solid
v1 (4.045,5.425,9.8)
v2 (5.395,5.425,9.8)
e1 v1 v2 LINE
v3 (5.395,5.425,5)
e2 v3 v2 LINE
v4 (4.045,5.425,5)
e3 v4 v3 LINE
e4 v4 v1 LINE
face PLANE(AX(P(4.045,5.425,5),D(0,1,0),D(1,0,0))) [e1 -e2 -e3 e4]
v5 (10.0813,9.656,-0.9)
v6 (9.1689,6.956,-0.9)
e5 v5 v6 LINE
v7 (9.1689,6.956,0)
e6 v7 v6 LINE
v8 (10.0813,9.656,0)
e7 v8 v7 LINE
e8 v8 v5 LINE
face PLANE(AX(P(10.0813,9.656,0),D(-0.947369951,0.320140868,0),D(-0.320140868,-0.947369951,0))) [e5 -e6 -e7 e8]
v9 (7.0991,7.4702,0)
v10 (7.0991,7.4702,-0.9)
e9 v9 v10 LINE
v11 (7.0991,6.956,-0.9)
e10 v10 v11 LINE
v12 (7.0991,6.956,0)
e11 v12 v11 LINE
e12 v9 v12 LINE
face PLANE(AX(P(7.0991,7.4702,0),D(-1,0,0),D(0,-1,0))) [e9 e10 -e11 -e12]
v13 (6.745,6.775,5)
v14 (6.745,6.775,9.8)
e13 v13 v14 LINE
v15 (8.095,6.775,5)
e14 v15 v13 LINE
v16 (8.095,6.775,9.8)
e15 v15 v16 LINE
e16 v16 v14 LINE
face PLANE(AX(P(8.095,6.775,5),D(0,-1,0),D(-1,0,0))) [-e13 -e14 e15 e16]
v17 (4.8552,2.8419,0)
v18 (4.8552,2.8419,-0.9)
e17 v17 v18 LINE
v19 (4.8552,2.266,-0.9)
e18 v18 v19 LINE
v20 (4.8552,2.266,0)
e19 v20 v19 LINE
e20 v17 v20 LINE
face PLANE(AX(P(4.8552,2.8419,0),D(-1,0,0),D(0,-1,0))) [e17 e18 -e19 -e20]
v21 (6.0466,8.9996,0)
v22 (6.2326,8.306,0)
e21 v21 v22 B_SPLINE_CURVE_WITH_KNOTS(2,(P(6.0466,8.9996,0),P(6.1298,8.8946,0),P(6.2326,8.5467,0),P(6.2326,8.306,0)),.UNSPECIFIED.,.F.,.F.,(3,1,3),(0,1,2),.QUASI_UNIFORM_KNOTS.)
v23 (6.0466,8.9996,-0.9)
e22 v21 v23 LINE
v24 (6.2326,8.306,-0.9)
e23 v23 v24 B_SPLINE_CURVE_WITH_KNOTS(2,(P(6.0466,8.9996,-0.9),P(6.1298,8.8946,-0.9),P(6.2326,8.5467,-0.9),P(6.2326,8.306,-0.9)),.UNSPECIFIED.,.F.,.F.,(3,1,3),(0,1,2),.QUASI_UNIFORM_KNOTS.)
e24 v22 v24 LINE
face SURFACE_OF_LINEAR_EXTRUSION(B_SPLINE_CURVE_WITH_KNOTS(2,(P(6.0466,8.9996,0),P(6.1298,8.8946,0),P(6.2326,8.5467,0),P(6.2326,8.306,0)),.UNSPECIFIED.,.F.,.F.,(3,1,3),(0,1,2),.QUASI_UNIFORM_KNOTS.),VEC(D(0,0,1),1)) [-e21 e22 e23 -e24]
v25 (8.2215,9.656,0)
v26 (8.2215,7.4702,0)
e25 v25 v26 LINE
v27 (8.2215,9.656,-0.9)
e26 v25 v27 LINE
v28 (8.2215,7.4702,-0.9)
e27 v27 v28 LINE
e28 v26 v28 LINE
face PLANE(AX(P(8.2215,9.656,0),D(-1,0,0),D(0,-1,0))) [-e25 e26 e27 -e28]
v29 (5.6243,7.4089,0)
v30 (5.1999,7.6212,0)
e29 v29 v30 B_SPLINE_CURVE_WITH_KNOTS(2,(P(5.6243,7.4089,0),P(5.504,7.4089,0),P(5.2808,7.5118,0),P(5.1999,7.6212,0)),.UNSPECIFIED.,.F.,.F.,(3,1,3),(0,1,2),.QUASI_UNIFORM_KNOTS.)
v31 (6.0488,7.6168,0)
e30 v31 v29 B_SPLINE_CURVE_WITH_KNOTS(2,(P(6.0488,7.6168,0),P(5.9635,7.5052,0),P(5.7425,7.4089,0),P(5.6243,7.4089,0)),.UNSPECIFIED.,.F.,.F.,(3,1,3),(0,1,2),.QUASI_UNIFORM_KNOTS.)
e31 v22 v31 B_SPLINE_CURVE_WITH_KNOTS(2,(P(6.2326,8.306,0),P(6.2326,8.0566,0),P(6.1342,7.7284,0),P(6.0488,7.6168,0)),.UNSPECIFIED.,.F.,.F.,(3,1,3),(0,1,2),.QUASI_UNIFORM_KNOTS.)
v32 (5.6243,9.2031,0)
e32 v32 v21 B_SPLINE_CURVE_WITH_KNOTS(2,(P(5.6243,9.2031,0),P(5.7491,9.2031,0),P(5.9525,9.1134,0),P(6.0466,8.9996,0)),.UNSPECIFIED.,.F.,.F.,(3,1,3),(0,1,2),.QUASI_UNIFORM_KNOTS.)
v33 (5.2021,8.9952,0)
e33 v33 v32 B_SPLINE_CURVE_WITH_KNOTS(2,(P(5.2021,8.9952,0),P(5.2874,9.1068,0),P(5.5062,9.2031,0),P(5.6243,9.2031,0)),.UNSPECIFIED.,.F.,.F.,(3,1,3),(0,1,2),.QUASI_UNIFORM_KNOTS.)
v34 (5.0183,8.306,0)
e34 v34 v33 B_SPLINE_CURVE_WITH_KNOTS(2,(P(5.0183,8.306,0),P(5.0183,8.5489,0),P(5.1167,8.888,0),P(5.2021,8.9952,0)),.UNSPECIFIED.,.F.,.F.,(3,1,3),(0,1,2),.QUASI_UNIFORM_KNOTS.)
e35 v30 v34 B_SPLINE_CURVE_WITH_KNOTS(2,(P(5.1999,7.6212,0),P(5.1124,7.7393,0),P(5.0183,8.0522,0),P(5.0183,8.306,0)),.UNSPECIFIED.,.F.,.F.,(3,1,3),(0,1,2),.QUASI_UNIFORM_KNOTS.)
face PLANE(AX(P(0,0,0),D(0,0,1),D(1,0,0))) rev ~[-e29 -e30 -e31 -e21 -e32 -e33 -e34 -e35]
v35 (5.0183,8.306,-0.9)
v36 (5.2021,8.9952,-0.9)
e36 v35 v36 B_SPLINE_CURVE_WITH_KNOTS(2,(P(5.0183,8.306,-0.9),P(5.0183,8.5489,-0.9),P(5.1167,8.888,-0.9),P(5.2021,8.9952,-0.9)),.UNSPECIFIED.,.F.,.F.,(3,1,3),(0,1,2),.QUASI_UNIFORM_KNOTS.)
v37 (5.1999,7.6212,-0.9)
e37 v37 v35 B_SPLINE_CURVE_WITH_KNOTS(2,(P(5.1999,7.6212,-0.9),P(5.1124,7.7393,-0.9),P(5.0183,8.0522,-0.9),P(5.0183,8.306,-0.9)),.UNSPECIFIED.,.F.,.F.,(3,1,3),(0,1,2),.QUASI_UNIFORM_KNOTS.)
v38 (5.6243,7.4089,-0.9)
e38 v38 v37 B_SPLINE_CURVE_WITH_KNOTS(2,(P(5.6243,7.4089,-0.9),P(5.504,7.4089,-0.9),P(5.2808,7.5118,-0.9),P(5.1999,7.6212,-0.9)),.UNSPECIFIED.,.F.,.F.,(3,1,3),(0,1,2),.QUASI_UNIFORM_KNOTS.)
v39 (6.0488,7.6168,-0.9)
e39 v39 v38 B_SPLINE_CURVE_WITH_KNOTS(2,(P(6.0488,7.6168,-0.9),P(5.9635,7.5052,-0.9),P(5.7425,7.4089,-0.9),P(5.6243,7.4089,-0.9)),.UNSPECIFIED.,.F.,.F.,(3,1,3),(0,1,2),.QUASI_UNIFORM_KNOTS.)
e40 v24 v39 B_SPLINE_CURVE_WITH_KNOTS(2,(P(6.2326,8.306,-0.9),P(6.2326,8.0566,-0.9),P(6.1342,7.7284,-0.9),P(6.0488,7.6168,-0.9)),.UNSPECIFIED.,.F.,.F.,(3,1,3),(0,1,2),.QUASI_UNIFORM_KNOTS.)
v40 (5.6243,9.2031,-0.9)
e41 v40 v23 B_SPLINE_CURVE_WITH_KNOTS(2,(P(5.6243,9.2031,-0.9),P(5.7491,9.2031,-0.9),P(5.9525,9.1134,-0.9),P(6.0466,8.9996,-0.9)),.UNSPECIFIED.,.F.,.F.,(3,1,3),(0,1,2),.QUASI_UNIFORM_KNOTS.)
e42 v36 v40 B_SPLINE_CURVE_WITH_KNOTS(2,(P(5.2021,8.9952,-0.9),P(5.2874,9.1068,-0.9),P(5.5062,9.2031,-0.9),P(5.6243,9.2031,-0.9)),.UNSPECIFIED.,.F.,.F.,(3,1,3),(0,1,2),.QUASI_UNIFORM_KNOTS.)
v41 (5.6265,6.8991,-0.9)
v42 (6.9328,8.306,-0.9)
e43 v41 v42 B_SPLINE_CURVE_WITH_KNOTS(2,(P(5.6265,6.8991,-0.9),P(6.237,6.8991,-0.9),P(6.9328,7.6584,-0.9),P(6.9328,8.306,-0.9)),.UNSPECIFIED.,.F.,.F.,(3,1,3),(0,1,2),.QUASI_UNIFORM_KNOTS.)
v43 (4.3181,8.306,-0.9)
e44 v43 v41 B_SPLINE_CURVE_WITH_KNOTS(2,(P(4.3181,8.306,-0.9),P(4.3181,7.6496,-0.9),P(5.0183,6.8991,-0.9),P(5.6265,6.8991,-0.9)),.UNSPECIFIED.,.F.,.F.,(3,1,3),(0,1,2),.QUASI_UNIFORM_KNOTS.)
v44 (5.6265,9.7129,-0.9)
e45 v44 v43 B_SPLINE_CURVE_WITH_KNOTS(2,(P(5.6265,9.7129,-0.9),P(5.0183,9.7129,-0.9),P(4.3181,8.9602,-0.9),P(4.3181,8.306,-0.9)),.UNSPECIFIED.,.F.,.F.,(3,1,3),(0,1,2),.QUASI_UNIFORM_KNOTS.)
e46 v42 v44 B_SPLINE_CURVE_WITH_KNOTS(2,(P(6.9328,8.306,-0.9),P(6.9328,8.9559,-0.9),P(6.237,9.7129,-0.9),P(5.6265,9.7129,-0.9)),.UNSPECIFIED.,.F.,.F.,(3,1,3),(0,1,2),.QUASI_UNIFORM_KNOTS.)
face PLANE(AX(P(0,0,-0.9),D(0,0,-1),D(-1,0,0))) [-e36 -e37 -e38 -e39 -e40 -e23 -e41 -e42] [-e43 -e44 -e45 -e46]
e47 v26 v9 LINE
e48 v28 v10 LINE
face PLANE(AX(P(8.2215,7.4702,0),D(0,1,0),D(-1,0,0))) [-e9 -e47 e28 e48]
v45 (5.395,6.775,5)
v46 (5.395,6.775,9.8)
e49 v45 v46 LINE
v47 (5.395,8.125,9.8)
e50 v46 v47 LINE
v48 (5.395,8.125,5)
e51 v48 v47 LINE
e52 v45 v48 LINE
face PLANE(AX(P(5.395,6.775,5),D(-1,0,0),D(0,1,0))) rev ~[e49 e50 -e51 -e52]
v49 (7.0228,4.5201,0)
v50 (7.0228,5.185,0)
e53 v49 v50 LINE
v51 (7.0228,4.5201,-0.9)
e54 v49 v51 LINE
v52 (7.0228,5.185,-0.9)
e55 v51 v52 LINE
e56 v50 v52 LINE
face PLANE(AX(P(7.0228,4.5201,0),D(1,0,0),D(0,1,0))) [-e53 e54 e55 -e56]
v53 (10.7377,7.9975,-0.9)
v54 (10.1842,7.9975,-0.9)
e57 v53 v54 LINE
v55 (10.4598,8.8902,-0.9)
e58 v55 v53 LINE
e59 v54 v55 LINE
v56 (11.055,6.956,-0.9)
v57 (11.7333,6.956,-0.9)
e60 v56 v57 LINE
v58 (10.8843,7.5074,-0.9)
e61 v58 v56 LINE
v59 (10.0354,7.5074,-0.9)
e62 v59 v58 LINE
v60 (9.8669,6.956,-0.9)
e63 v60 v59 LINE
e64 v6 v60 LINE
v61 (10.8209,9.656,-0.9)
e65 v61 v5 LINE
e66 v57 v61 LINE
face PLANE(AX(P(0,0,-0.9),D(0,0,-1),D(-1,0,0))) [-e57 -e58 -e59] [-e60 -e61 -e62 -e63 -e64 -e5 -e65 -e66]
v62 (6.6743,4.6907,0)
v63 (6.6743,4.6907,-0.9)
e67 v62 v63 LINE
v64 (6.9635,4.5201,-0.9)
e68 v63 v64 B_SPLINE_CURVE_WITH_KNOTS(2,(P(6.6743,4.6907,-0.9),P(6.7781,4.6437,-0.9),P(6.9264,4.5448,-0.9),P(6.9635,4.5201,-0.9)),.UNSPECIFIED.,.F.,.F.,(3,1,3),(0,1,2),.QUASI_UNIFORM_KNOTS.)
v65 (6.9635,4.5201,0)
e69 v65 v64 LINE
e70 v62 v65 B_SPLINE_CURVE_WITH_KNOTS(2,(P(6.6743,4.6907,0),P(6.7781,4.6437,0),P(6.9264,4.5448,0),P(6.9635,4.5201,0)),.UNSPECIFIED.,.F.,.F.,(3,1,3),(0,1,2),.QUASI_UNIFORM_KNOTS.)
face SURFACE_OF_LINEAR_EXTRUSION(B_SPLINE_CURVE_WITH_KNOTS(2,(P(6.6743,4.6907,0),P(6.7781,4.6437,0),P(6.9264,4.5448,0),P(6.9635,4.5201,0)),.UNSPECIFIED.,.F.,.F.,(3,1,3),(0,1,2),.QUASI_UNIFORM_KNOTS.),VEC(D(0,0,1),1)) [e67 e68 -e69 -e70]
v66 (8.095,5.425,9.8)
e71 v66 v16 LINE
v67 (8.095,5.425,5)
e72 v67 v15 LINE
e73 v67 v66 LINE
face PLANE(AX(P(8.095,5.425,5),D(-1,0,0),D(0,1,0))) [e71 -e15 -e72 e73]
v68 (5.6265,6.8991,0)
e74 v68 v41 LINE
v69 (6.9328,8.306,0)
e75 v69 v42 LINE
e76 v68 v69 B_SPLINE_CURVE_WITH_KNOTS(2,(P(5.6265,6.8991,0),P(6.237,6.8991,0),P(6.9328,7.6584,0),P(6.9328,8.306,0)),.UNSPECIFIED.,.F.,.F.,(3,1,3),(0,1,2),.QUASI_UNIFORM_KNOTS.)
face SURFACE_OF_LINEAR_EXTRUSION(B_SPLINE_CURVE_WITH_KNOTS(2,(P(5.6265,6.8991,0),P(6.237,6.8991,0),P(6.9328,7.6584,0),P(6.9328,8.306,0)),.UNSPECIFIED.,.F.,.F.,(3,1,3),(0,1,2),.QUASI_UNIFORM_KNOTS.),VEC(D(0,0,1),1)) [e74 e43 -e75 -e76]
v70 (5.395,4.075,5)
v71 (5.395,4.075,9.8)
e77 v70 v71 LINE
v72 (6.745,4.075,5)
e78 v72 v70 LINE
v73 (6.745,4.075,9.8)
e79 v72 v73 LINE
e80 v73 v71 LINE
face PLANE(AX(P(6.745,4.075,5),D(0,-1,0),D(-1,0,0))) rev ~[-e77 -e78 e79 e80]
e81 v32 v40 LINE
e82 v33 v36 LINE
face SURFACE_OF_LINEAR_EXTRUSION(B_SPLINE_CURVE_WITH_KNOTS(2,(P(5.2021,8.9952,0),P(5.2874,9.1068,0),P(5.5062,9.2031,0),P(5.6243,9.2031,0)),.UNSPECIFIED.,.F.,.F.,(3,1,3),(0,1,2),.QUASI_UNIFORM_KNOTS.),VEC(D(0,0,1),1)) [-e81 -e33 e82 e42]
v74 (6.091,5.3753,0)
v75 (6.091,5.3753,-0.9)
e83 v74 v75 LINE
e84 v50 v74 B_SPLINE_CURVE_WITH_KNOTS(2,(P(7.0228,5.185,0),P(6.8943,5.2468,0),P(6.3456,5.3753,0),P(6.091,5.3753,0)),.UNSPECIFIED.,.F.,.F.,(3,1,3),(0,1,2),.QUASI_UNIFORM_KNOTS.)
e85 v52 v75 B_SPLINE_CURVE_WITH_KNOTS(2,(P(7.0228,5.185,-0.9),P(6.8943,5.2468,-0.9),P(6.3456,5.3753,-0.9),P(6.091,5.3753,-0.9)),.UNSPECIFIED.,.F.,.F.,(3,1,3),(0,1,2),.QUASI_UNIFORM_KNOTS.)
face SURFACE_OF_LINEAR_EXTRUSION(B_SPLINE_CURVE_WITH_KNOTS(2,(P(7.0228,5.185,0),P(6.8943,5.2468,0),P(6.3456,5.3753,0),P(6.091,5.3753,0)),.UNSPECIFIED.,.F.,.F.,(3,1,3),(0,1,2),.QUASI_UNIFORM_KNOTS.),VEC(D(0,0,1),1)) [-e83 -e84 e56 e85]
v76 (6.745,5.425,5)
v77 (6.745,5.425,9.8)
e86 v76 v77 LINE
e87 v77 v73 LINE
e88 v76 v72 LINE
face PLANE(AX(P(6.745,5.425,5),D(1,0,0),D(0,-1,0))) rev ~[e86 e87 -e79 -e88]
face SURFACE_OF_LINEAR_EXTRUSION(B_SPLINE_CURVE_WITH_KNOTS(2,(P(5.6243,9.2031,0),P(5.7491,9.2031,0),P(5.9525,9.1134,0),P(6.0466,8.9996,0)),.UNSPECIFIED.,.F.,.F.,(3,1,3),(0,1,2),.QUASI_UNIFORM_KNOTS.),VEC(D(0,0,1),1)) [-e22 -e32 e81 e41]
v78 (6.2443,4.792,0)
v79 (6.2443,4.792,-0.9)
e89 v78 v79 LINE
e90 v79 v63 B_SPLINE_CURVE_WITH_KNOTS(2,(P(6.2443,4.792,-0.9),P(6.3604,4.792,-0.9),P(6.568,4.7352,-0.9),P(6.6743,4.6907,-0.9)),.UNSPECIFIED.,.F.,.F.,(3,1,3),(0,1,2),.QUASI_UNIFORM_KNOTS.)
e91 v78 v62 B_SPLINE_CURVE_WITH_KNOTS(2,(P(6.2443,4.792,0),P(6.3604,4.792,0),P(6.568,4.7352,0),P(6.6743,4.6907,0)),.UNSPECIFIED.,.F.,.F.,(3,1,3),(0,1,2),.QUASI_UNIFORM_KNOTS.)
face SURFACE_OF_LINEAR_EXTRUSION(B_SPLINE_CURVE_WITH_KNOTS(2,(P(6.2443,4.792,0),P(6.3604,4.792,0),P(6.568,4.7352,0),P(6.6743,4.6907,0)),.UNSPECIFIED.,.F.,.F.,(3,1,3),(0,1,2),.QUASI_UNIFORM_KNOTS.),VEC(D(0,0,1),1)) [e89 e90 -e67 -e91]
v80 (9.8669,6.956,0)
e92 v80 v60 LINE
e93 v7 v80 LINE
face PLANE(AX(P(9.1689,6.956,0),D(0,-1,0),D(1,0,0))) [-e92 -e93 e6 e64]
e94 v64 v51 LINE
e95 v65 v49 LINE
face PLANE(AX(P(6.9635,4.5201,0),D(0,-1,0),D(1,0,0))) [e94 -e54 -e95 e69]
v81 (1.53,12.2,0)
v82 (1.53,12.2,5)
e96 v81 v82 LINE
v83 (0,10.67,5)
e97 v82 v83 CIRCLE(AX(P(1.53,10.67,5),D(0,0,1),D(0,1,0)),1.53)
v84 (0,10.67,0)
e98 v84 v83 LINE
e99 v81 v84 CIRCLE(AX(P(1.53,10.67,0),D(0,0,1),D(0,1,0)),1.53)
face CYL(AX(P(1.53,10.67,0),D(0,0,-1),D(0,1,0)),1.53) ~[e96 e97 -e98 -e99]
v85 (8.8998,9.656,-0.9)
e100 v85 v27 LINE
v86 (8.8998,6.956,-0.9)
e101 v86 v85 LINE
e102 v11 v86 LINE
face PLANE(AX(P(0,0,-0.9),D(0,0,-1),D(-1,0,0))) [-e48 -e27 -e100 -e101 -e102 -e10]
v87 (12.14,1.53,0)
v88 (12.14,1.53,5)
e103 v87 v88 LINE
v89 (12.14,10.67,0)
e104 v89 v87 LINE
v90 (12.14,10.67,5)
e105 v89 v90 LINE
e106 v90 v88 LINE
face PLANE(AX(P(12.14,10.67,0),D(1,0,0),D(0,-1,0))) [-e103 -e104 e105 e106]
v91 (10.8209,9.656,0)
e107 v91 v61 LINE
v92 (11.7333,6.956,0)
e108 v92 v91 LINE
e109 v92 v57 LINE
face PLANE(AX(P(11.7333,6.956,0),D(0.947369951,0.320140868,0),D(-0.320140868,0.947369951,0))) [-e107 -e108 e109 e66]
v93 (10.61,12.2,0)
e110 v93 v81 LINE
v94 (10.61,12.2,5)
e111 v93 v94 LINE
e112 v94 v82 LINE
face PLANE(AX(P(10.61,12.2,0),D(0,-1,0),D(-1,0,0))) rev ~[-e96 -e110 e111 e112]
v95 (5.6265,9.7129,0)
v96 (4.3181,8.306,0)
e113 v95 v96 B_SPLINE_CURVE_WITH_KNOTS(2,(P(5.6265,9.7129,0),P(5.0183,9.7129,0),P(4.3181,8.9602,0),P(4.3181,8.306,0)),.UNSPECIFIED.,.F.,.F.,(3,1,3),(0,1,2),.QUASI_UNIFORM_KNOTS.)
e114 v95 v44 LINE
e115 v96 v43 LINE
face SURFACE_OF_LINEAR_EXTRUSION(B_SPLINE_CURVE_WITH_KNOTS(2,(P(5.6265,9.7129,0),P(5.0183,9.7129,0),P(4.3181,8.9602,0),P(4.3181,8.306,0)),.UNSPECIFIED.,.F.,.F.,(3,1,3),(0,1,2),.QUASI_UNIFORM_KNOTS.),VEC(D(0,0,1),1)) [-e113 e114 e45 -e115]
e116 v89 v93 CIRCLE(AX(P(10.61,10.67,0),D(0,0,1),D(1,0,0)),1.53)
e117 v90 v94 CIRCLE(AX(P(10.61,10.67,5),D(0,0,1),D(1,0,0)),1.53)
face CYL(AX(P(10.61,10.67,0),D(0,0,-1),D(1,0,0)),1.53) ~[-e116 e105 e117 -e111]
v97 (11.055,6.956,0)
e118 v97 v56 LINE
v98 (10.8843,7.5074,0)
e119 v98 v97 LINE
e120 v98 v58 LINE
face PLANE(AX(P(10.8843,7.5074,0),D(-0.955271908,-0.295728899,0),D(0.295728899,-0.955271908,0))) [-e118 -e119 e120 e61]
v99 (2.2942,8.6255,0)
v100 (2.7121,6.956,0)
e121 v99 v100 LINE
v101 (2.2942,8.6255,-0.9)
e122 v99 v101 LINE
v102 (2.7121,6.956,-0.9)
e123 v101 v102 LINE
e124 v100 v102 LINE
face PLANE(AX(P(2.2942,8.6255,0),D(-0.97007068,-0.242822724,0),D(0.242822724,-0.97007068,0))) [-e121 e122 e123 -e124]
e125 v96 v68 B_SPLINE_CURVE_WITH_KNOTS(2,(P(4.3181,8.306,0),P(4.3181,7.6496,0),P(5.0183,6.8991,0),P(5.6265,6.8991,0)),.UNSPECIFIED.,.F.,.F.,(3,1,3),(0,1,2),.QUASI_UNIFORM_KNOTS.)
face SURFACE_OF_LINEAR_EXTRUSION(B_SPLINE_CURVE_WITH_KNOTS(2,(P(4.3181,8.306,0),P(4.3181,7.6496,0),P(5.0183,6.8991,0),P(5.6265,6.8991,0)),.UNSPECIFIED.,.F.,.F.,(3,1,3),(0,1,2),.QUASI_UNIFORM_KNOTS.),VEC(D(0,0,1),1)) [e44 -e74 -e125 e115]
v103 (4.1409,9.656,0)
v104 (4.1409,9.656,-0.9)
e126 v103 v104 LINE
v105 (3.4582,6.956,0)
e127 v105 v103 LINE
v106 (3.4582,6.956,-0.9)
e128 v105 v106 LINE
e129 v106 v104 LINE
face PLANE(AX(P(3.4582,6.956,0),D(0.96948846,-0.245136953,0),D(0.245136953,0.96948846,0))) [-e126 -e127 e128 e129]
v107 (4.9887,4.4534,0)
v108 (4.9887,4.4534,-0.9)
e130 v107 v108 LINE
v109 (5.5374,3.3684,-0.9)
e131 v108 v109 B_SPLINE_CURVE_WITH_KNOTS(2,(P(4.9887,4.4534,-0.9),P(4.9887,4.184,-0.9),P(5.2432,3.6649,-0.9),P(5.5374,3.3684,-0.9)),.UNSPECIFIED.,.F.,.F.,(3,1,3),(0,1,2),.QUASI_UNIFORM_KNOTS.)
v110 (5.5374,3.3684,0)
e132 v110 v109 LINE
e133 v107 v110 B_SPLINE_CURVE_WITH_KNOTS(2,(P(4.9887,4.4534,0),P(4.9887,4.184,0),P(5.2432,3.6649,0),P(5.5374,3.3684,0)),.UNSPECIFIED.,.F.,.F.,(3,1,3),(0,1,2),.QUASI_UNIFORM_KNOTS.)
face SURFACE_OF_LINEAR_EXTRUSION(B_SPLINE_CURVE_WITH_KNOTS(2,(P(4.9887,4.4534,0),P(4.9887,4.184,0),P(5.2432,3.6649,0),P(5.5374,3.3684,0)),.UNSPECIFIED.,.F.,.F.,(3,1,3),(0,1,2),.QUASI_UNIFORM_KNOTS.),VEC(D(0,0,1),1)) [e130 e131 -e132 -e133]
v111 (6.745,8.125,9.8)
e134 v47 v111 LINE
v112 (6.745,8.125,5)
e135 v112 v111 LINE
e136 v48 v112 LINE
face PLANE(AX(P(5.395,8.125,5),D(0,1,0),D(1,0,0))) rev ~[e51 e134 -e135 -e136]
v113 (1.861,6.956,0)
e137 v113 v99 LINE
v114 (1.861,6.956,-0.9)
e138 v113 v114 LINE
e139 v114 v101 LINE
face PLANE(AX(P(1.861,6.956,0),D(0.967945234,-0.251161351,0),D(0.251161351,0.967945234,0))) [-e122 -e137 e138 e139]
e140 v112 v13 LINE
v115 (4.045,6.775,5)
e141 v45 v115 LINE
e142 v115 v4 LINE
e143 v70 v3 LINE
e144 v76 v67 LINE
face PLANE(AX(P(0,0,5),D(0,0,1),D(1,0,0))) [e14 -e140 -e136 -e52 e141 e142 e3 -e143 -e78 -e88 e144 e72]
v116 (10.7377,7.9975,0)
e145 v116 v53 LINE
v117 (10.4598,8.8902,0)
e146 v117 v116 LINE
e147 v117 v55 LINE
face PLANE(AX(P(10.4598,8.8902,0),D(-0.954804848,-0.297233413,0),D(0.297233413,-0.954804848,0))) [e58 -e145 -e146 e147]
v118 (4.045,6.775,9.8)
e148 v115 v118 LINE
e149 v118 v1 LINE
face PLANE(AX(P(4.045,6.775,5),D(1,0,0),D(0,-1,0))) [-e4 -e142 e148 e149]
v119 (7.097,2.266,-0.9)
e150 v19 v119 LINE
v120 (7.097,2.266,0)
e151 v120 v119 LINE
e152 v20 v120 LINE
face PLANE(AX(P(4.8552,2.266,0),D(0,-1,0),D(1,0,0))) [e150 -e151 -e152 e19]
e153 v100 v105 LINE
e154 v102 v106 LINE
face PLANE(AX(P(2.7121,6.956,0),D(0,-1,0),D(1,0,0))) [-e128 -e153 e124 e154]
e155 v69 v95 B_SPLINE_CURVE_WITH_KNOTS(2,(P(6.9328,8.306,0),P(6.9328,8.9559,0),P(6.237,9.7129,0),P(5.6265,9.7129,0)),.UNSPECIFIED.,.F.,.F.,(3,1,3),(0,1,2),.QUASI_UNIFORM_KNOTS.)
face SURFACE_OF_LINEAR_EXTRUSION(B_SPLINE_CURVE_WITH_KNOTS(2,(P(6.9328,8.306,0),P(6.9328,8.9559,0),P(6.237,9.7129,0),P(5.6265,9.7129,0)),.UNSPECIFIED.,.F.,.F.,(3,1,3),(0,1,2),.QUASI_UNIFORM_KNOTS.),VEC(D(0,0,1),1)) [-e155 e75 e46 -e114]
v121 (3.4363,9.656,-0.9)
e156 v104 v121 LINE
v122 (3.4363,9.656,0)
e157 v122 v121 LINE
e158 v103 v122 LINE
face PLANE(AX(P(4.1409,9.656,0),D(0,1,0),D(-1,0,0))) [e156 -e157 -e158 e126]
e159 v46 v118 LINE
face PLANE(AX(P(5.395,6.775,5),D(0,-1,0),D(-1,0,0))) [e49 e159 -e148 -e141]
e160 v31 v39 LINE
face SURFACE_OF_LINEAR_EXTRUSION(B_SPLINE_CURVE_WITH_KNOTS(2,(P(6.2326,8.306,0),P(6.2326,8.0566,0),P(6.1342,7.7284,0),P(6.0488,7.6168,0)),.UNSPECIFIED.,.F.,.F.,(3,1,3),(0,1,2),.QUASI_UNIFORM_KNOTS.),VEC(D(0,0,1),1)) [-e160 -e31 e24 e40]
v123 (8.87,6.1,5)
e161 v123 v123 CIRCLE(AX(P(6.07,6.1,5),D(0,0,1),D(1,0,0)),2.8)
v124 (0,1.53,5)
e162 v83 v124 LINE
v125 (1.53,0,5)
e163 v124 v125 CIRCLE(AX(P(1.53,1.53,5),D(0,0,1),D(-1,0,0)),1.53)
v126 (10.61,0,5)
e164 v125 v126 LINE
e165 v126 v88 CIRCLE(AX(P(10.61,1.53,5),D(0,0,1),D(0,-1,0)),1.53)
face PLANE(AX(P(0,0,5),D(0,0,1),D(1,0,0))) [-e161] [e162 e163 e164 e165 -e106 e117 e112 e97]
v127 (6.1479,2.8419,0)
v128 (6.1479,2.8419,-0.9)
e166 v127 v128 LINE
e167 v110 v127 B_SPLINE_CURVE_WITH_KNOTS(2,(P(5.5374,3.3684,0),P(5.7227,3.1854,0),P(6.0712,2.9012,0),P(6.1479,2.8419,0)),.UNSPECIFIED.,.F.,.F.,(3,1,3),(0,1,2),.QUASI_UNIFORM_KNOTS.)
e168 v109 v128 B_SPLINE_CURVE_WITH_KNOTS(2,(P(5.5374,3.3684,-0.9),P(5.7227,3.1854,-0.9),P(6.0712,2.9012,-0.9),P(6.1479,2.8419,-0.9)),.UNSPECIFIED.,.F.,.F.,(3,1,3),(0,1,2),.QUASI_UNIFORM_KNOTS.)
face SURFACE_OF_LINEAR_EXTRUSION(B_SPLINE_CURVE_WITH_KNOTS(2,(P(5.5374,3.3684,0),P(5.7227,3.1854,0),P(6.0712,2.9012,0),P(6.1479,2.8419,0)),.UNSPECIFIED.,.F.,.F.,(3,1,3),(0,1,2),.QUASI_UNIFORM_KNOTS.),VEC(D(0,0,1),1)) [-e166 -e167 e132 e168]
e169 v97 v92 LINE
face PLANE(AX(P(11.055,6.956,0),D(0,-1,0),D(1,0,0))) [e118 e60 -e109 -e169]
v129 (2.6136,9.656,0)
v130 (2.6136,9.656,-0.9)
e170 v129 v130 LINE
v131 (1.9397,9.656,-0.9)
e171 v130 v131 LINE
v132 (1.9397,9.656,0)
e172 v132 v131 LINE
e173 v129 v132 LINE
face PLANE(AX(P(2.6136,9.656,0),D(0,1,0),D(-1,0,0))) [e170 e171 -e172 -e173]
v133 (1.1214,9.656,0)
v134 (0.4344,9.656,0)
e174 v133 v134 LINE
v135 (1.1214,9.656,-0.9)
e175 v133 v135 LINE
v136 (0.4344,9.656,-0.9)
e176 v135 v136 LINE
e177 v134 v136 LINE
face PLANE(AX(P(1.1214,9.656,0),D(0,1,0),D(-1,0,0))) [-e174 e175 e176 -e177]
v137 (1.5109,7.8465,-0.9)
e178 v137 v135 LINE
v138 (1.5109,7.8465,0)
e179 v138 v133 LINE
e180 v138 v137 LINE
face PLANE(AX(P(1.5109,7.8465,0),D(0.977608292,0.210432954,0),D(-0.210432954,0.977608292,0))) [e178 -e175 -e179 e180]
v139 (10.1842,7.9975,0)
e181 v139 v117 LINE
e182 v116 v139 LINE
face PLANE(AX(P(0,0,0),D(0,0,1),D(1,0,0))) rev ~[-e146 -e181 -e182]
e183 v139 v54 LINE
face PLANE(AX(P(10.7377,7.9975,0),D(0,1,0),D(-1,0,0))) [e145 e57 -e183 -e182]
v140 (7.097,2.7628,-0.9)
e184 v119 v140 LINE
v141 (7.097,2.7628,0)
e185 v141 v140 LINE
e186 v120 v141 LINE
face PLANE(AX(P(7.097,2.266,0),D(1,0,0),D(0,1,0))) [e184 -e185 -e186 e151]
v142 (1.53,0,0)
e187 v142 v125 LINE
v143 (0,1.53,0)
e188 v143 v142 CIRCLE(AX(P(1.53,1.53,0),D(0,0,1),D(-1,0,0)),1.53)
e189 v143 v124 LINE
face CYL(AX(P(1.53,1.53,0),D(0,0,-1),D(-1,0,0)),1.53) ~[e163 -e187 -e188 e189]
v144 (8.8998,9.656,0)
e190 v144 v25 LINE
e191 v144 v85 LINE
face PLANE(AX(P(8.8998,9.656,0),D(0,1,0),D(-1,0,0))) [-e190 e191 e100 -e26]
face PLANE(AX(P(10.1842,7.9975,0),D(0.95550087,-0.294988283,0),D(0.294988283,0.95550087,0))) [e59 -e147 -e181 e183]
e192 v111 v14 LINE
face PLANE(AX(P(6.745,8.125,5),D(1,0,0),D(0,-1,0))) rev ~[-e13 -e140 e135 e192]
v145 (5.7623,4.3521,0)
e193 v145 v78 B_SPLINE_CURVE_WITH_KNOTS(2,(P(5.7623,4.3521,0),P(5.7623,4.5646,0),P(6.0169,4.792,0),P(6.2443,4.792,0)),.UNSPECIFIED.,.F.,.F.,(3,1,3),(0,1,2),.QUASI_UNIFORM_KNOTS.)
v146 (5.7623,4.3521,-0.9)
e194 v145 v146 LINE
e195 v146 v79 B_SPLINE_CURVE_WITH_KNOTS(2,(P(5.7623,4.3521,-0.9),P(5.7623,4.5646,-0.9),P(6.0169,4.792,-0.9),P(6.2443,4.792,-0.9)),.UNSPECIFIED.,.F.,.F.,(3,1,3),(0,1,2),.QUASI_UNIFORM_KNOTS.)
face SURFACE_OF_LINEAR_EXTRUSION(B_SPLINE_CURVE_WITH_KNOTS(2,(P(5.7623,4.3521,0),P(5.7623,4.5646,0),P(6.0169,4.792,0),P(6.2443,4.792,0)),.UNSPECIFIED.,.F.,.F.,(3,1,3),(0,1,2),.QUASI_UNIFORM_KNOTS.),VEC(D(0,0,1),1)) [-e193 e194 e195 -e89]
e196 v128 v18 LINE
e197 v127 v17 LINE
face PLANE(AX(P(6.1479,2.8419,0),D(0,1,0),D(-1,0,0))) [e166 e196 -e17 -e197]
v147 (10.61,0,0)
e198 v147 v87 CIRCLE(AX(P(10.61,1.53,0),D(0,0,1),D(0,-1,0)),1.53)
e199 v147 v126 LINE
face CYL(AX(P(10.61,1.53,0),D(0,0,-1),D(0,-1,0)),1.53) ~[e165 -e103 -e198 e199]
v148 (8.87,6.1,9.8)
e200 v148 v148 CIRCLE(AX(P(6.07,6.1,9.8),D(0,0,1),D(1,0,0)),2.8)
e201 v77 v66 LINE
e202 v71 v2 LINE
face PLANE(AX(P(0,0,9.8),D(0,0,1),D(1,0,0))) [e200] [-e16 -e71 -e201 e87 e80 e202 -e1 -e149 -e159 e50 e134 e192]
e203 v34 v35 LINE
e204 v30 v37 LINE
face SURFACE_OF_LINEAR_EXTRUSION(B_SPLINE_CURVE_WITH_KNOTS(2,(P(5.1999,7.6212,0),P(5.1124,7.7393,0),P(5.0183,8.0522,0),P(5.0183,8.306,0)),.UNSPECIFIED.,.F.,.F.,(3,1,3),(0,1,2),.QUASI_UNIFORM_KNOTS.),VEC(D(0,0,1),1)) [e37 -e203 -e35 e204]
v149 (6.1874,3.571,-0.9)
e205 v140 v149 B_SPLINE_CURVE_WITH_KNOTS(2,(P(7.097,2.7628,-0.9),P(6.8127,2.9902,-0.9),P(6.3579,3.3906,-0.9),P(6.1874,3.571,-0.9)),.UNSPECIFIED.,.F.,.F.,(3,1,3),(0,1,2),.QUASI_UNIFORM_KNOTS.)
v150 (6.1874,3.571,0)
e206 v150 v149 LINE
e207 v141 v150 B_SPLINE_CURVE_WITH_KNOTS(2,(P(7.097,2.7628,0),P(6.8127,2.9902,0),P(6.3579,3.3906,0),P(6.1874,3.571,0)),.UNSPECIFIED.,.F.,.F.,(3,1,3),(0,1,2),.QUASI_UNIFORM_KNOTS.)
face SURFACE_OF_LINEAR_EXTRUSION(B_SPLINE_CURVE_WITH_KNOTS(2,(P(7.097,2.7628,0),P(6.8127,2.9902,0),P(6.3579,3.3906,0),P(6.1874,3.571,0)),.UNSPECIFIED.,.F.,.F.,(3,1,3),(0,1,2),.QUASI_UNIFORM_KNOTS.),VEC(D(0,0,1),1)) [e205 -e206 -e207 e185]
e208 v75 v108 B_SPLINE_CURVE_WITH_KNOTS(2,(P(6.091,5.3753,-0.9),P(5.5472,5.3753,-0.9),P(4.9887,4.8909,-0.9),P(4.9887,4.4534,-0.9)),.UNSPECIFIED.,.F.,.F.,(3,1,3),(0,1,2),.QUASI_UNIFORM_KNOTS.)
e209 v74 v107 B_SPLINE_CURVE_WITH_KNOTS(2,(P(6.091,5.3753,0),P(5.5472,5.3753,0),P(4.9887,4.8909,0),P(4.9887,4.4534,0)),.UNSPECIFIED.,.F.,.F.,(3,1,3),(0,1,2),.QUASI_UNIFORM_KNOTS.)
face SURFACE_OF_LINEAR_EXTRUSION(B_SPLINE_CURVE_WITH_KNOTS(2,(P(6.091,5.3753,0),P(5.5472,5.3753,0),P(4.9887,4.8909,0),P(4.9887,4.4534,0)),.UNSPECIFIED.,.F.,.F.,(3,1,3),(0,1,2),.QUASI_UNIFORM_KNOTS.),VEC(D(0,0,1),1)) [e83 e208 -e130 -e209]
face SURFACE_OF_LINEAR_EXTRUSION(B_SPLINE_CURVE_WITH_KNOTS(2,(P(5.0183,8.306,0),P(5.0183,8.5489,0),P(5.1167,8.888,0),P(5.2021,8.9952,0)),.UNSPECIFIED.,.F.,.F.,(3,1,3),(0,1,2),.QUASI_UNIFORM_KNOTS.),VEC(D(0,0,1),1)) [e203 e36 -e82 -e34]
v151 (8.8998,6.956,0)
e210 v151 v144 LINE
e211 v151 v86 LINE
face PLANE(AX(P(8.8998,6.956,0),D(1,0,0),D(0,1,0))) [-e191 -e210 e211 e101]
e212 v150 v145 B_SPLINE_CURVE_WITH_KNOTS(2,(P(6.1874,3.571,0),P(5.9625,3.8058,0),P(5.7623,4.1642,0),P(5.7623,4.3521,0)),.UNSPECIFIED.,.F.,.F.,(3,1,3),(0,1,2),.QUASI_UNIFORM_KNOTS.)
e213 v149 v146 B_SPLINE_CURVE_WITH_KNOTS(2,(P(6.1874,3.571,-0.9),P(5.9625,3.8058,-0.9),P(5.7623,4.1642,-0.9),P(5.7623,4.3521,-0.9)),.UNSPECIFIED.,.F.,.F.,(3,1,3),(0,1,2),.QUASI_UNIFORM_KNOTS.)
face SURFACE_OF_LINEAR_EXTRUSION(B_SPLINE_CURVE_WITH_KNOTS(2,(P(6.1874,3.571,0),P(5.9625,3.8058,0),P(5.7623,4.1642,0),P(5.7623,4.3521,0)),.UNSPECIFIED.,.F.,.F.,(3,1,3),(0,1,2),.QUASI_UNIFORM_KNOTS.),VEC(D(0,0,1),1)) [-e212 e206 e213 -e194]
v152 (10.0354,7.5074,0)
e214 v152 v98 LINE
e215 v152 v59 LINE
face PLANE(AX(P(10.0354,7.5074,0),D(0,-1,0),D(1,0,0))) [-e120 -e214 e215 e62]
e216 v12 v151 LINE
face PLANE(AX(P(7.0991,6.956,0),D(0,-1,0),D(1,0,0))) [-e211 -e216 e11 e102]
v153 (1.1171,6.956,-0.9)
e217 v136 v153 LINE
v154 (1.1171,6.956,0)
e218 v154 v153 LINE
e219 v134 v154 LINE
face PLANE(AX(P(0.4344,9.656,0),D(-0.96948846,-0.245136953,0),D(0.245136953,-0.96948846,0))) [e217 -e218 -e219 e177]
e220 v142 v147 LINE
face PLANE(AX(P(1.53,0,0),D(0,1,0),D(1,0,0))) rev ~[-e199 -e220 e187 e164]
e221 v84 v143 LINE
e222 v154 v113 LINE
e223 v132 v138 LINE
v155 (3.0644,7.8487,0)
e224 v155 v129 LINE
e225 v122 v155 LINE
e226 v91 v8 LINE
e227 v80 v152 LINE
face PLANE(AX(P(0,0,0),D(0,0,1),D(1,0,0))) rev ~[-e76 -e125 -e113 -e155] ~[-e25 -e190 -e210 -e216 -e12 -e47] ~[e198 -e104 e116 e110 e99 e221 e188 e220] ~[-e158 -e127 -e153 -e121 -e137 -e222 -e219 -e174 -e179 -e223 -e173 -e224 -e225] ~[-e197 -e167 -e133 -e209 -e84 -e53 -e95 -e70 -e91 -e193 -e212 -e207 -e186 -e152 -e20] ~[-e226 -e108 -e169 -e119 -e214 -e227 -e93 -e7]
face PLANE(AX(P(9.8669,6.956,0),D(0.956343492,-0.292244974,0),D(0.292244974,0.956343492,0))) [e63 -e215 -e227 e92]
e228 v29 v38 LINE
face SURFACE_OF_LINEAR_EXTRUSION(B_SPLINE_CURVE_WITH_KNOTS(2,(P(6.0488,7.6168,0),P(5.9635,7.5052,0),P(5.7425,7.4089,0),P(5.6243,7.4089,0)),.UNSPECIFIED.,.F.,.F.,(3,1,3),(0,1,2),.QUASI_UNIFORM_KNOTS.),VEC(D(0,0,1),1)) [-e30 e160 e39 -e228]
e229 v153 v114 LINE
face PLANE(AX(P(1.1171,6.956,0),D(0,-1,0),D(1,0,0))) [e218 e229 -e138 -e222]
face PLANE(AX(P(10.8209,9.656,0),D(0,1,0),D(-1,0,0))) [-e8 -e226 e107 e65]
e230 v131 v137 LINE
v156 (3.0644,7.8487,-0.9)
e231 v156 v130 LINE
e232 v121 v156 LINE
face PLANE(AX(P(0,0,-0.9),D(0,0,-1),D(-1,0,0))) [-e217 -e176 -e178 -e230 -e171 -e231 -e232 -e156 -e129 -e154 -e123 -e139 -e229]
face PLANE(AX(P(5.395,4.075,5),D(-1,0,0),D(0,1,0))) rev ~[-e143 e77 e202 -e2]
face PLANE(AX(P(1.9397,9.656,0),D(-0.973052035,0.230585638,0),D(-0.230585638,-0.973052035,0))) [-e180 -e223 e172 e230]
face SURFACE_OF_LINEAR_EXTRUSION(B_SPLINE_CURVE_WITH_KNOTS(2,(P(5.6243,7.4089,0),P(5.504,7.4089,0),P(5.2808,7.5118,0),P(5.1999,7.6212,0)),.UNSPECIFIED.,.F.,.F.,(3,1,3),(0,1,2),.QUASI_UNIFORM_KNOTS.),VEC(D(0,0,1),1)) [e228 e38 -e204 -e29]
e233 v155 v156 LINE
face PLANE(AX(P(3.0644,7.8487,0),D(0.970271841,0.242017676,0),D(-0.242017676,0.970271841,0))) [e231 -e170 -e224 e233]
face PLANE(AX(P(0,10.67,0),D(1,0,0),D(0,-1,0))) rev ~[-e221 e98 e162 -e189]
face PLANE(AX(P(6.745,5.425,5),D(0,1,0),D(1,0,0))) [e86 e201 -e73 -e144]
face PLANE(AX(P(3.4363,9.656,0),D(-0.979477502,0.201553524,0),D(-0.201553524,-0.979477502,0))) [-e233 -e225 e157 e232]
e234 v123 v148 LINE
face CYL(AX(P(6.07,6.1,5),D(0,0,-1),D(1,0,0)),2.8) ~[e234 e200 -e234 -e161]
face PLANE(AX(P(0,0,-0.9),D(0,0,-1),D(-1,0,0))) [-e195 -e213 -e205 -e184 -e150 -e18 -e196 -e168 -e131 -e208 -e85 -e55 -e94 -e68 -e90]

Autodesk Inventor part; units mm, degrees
ref_plane "YZ Plane" through (0, 0, 0) normal (1, 0, 0) x (0, 1, 0)
ref_plane "XZ Plane" through (0, 0, 0) normal (0, 1, 0) x (-1, 0, 0)
sketch "Sketch1" plane through (0, 0, 0) normal (0, 0, 1) x (1, 0, 0)
  line L0 (14.6962, 12.74) -> (14.6962, 0) construction
  line L1 (10.61, 12.2) -> (1.53, 12.2)
  arc A0 (1.53, 12.2) -> (0, 10.67) centre (1.53, 10.67) ccw
  line L2 (0, 10.67) -> (0, 1.53)
  arc A1 (0, 1.53) -> (1.53, 0) centre (1.53, 1.53) ccw
  line L3 (1.53, 0) -> (10.61, 0)
  arc A2 (10.61, 0) -> (12.14, 1.53) centre (10.61, 1.53) ccw
  arc A3 (12.14, 10.67) -> (10.61, 12.2) centre (10.61, 10.67) ccw
  line L4 (12.14, 10.67) -> (12.14, 1.53)
  point P0 (0, 0)
  point P1 (0, 0)
  dimension "d10" = 12.74
ref_plane "Work Plane1" through (0, 0, 5) normal (0, 0, 1) x (1, 0, 0)
sketch "Sketch2" plane through (0, 0, 5) normal (0, 0, 1) x (1, 0, 0)
  line L0 (10.88, 12.74) -> (1.8, 12.74) projected
  line L1 (10.88, 12.74) -> (1.8, 12.74) projected
  arc A0 (1.8, 12.74) -> (0, 10.94) centre (1.8, 10.94) ccw projected
  line L2 (0, 10.94) -> (0, 1.8) projected
  arc A1 (0, 1.8) -> (1.8, 0) centre (1.8, 1.8) ccw projected
  line L3 (1.8, 0) -> (10.88, 0) projected
  arc A2 (10.88, 0) -> (12.68, 1.8) centre (10.88, 1.8) ccw projected
  line L4 (12.68, 1.8) -> (12.68, 10.94) projected
  arc A3 (12.68, 10.94) -> (10.88, 12.74) centre (10.88, 10.94) ccw projected
  circle A4 centre (6.34, 6.37) radius 2.8
  line L5 (5.665, 8.395) -> (7.015, 8.395)
  line L6 (7.015, 4.345) -> (5.665, 4.345)
  line L7 (5.665, 4.345) -> (7.015, 8.395) construction
  line L8 (5.665, 8.395) -> (7.015, 4.345) construction
  line L9 (8.365, 5.695) -> (8.365, 7.045)
  line L10 (4.315, 7.045) -> (4.315, 5.695)
  line L11 (4.315, 5.695) -> (8.365, 7.045) construction
  line L12 (8.365, 5.695) -> (4.315, 7.045) construction
  line L13 (4.315, 5.695) -> (5.665, 5.695)
  line L14 (7.015, 5.695) -> (8.365, 5.695)
  line L15 (5.665, 4.345) -> (5.665, 5.695)
  line L16 (5.665, 7.045) -> (5.665, 8.395)
  line L17 (8.365, 7.045) -> (7.015, 7.045)
  line L18 (5.665, 7.045) -> (4.315, 7.045)
  line L19 (7.015, 8.395) -> (7.015, 7.045)
  line L20 (7.015, 5.695) -> (7.015, 4.345)
  point P0 (0, 0)
  dimension "d3" = 5.6
  dimension "d4" = 4.05
  dimension "d5" = 1.35
  dimension "d6" = 4.05
  dimension "d7" = 1.35
extrude "Extrusion3" add sketch "Sketch1" along normal blind 5
sketch "Sketch3" plane through (0, 0, 5) normal (0, 0, 1) x (1, 0, 0)
  line L0 (10.61, 12.47) -> (1.53, 12.47)
  line L1 (10.61, 12.47) -> (1.53, 12.47)
  arc A0 (1.53, 12.47) -> (-0.27, 10.67) centre (1.53, 10.67) ccw
  line L2 (-0.27, 10.67) -> (-0.27, 1.53)
  arc A1 (-0.27, 1.53) -> (1.53, -0.27) centre (1.53, 1.53) ccw
  line L3 (1.53, -0.27) -> (10.61, -0.27)
  arc A2 (10.61, -0.27) -> (12.41, 1.53) centre (10.61, 1.53) ccw
  line L4 (12.41, 1.53) -> (12.41, 10.67)
  arc A3 (12.41, 10.67) -> (10.61, 12.47) centre (10.61, 10.67) ccw
  circle A4 centre (6.07, 6.1) radius 2.8
  line L5 (5.395, 8.125) -> (6.745, 8.125)
  line L6 (6.745, 4.075) -> (5.395, 4.075)
  line L7 (5.395, 4.075) -> (6.745, 8.125) construction
  line L8 (5.395, 8.125) -> (6.745, 4.075) construction
  line L9 (8.095, 5.425) -> (8.095, 6.775)
  line L10 (4.045, 6.775) -> (4.045, 5.425)
  line L11 (4.045, 5.425) -> (8.095, 6.775) construction
  line L12 (8.095, 5.425) -> (4.045, 6.775) construction
  line L13 (4.045, 5.425) -> (5.395, 5.425)
  line L14 (6.745, 5.425) -> (8.095, 5.425)
  line L15 (5.395, 4.075) -> (5.395, 5.425)
  line L16 (5.395, 6.775) -> (5.395, 8.125)
  line L17 (8.095, 6.775) -> (6.745, 6.775)
  line L18 (5.395, 6.775) -> (4.045, 6.775)
  line L19 (6.745, 8.125) -> (6.745, 6.775)
  line L20 (6.745, 5.425) -> (6.745, 4.075)
  line L21 (10.61, 12.2) -> (1.53, 12.2) projected
  line L22 (0, 10.67) -> (0, 1.53) projected
  point P0 (0, 0)
  point P1 (-0.27, -0.27)
  point P2 (6.07, 12.2)
  point P3 (0, 6.1)
  point P4 (6.07, 6.1)
  dimension "d14" = 5.6
  dimension "d15" = 4.05
  dimension "d16" = 1.35
  dimension "d17" = 4.05
  dimension "d18" = 1.35
extrude "Extrusion4" add sketch "Sketch3" along normal blind 4.8 contours A4
sketch "Sketch4" plane through (0, 0, 0) normal (0, 0, -1) x (-1, 0, 0)
  line L0 (-1.53, 0) -> (-10.61, 0) projected
  line L1 (-11.7223, 9.7129) -> (-0.4177, 9.7129) construction
  line L2 (-0.4177, 9.7129) -> (-0.4177, 6.84) construction
  line L3 (-0.4177, 6.84) -> (-11.7223, 6.84) construction
  line L4 (-11.7223, 6.84) -> (-11.7223, 9.7129) construction
  line L5 (-7.4059, 5.3753) -> (-4.7341, 5.3753) construction
  line L6 (-4.7341, 5.3753) -> (-4.7341, 2.266) construction
  line L7 (-4.7341, 2.266) -> (-7.4059, 2.266) construction
  line L8 (-7.4059, 2.266) -> (-7.4059, 5.3753) construction
  line L9 (-11.7333, 6.956) -> (-10.8209, 9.656)
  line L10 (-10.8209, 9.656) -> (-10.0813, 9.656)
  line L11 (-10.0813, 9.656) -> (-9.1689, 6.956)
  line L12 (-9.1689, 6.956) -> (-9.8669, 6.956)
  line L13 (-9.8669, 6.956) -> (-10.0354, 7.5074)
  line L14 (-10.0354, 7.5074) -> (-10.8843, 7.5074)
  line L15 (-10.8843, 7.5074) -> (-11.055, 6.956)
  line L16 (-11.055, 6.956) -> (-11.7333, 6.956)
  line L17 (-10.1842, 7.9975) -> (-10.4598, 8.8902)
  line L18 (-10.4598, 8.8902) -> (-10.7377, 7.9975)
  line L19 (-10.7377, 7.9975) -> (-10.1842, 7.9975)
  line L20 (-7.0991, 6.956) -> (-8.8998, 6.956)
  line L21 (-8.8998, 6.956) -> (-8.8998, 9.656)
  line L22 (-8.8998, 9.656) -> (-8.2215, 9.656)
  line L23 (-8.2215, 9.656) -> (-8.2215, 7.4702)
  line L24 (-8.2215, 7.4702) -> (-7.0991, 7.4702)
  line L25 (-7.0991, 7.4702) -> (-7.0991, 6.956)
  spline S0 degree 2 poles (-4.3181, 8.306) (-4.3181, 7.6496) (-5.0183, 6.8991) (-5.6265, 6.8991) knots 0 0 0 1 2 2 2
  spline S1 degree 2 poles (-5.6265, 6.8991) (-6.237, 6.8991) (-6.9328, 7.6584) (-6.9328, 8.306) knots 0 0 0 1 2 2 2
  spline S2 degree 2 poles (-6.9328, 8.306) (-6.9328, 8.9559) (-6.237, 9.7129) (-5.6265, 9.7129) knots 0 0 0 1 2 2 2
  spline S3 degree 2 poles (-5.6265, 9.7129) (-5.0183, 9.7129) (-4.3181, 8.9602) (-4.3181, 8.306) knots 0 0 0 1 2 2 2
  spline S4 degree 2 poles (-5.0183, 8.306) (-5.0183, 8.5489) (-5.1167, 8.888) (-5.2021, 8.9952) knots 0 0 0 1 2 2 2
  spline S5 degree 2 poles (-5.2021, 8.9952) (-5.2874, 9.1068) (-5.5062, 9.2031) (-5.6243, 9.2031) knots 0 0 0 1 2 2 2
  spline S6 degree 2 poles (-5.6243, 9.2031) (-5.7491, 9.2031) (-5.9525, 9.1134) (-6.0466, 8.9996) knots 0 0 0 1 2 2 2
  spline S7 degree 2 poles (-6.0466, 8.9996) (-6.1298, 8.8946) (-6.2326, 8.5467) (-6.2326, 8.306) knots 0 0 0 1 2 2 2
  spline S8 degree 2 poles (-6.2326, 8.306) (-6.2326, 8.0566) (-6.1342, 7.7284) (-6.0488, 7.6168) knots 0 0 0 1 2 2 2
  spline S9 degree 2 poles (-6.0488, 7.6168) (-5.9635, 7.5052) (-5.7425, 7.4089) (-5.6243, 7.4089) knots 0 0 0 1 2 2 2
  spline S10 degree 2 poles (-5.6243, 7.4089) (-5.504, 7.4089) (-5.2808, 7.5118) (-5.1999, 7.6212) knots 0 0 0 1 2 2 2
  spline S11 degree 2 poles (-5.1999, 7.6212) (-5.1124, 7.7393) (-5.0183, 8.0522) (-5.0183, 8.306) knots 0 0 0 1 2 2 2
  line L26 (-0.4344, 9.656) -> (-1.1171, 6.956)
  line L27 (-1.1171, 6.956) -> (-1.861, 6.956)
  line L28 (-1.861, 6.956) -> (-2.2942, 8.6255)
  line L29 (-2.2942, 8.6255) -> (-2.7121, 6.956)
  line L30 (-2.7121, 6.956) -> (-3.4582, 6.956)
  line L31 (-3.4582, 6.956) -> (-4.1409, 9.656)
  line L32 (-4.1409, 9.656) -> (-3.4363, 9.656)
  line L33 (-3.4363, 9.656) -> (-3.0644, 7.8487)
  line L34 (-3.0644, 7.8487) -> (-2.6136, 9.656)
  line L35 (-2.6136, 9.656) -> (-1.9397, 9.656)
  line L36 (-1.9397, 9.656) -> (-1.5109, 7.8465)
  line L37 (-1.5109, 7.8465) -> (-1.1214, 9.656)
  line L38 (-1.1214, 9.656) -> (-0.4344, 9.656)
  line L39 (-4.8552, 2.266) -> (-7.097, 2.266)
  line L40 (-7.097, 2.266) -> (-7.097, 2.7628)
  spline S12 degree 2 poles (-7.097, 2.7628) (-6.8127, 2.9902) (-6.3579, 3.3906) (-6.1874, 3.571) knots 0 0 0 1 2 2 2
  spline S13 degree 2 poles (-6.1874, 3.571) (-5.9625, 3.8058) (-5.7623, 4.1642) (-5.7623, 4.3521) knots 0 0 0 1 2 2 2
  spline S14 degree 2 poles (-5.7623, 4.3521) (-5.7623, 4.5646) (-6.0169, 4.792) (-6.2443, 4.792) knots 0 0 0 1 2 2 2
  spline S15 degree 2 poles (-6.2443, 4.792) (-6.3604, 4.792) (-6.568, 4.7352) (-6.6743, 4.6907) knots 0 0 0 1 2 2 2
  spline S16 degree 2 poles (-6.6743, 4.6907) (-6.7781, 4.6437) (-6.9264, 4.5448) (-6.9635, 4.5201) knots 0 0 0 1 2 2 2
  line L41 (-6.9635, 4.5201) -> (-7.0228, 4.5201)
  line L42 (-7.0228, 4.5201) -> (-7.0228, 5.185)
  spline S17 degree 2 poles (-7.0228, 5.185) (-6.8943, 5.2468) (-6.3456, 5.3753) (-6.091, 5.3753) knots 0 0 0 1 2 2 2
  spline S18 degree 2 poles (-6.091, 5.3753) (-5.5472, 5.3753) (-4.9887, 4.8909) (-4.9887, 4.4534) knots 0 0 0 1 2 2 2
  spline S19 degree 2 poles (-4.9887, 4.4534) (-4.9887, 4.184) (-5.2432, 3.6649) (-5.5374, 3.3684) knots 0 0 0 1 2 2 2
  spline S20 degree 2 poles (-5.5374, 3.3684) (-5.7227, 3.1854) (-6.0712, 2.9012) (-6.1479, 2.8419) knots 0 0 0 1 2 2 2
  line L43 (-6.1479, 2.8419) -> (-4.8552, 2.8419)
  line L44 (-4.8552, 2.8419) -> (-4.8552, 2.266)
  point P0 (0, 0)
  point P1 (-6.07, 2.266)
  point P2 (-6.07, 6.84)
  point P3 (-6.07, 6.84)
  point P4 (-6.07, 2.266)
extrude "Extrusion5" add sketch "Sketch4" along normal blind 0.9
properties part number "IPC ALOW 2 key"
